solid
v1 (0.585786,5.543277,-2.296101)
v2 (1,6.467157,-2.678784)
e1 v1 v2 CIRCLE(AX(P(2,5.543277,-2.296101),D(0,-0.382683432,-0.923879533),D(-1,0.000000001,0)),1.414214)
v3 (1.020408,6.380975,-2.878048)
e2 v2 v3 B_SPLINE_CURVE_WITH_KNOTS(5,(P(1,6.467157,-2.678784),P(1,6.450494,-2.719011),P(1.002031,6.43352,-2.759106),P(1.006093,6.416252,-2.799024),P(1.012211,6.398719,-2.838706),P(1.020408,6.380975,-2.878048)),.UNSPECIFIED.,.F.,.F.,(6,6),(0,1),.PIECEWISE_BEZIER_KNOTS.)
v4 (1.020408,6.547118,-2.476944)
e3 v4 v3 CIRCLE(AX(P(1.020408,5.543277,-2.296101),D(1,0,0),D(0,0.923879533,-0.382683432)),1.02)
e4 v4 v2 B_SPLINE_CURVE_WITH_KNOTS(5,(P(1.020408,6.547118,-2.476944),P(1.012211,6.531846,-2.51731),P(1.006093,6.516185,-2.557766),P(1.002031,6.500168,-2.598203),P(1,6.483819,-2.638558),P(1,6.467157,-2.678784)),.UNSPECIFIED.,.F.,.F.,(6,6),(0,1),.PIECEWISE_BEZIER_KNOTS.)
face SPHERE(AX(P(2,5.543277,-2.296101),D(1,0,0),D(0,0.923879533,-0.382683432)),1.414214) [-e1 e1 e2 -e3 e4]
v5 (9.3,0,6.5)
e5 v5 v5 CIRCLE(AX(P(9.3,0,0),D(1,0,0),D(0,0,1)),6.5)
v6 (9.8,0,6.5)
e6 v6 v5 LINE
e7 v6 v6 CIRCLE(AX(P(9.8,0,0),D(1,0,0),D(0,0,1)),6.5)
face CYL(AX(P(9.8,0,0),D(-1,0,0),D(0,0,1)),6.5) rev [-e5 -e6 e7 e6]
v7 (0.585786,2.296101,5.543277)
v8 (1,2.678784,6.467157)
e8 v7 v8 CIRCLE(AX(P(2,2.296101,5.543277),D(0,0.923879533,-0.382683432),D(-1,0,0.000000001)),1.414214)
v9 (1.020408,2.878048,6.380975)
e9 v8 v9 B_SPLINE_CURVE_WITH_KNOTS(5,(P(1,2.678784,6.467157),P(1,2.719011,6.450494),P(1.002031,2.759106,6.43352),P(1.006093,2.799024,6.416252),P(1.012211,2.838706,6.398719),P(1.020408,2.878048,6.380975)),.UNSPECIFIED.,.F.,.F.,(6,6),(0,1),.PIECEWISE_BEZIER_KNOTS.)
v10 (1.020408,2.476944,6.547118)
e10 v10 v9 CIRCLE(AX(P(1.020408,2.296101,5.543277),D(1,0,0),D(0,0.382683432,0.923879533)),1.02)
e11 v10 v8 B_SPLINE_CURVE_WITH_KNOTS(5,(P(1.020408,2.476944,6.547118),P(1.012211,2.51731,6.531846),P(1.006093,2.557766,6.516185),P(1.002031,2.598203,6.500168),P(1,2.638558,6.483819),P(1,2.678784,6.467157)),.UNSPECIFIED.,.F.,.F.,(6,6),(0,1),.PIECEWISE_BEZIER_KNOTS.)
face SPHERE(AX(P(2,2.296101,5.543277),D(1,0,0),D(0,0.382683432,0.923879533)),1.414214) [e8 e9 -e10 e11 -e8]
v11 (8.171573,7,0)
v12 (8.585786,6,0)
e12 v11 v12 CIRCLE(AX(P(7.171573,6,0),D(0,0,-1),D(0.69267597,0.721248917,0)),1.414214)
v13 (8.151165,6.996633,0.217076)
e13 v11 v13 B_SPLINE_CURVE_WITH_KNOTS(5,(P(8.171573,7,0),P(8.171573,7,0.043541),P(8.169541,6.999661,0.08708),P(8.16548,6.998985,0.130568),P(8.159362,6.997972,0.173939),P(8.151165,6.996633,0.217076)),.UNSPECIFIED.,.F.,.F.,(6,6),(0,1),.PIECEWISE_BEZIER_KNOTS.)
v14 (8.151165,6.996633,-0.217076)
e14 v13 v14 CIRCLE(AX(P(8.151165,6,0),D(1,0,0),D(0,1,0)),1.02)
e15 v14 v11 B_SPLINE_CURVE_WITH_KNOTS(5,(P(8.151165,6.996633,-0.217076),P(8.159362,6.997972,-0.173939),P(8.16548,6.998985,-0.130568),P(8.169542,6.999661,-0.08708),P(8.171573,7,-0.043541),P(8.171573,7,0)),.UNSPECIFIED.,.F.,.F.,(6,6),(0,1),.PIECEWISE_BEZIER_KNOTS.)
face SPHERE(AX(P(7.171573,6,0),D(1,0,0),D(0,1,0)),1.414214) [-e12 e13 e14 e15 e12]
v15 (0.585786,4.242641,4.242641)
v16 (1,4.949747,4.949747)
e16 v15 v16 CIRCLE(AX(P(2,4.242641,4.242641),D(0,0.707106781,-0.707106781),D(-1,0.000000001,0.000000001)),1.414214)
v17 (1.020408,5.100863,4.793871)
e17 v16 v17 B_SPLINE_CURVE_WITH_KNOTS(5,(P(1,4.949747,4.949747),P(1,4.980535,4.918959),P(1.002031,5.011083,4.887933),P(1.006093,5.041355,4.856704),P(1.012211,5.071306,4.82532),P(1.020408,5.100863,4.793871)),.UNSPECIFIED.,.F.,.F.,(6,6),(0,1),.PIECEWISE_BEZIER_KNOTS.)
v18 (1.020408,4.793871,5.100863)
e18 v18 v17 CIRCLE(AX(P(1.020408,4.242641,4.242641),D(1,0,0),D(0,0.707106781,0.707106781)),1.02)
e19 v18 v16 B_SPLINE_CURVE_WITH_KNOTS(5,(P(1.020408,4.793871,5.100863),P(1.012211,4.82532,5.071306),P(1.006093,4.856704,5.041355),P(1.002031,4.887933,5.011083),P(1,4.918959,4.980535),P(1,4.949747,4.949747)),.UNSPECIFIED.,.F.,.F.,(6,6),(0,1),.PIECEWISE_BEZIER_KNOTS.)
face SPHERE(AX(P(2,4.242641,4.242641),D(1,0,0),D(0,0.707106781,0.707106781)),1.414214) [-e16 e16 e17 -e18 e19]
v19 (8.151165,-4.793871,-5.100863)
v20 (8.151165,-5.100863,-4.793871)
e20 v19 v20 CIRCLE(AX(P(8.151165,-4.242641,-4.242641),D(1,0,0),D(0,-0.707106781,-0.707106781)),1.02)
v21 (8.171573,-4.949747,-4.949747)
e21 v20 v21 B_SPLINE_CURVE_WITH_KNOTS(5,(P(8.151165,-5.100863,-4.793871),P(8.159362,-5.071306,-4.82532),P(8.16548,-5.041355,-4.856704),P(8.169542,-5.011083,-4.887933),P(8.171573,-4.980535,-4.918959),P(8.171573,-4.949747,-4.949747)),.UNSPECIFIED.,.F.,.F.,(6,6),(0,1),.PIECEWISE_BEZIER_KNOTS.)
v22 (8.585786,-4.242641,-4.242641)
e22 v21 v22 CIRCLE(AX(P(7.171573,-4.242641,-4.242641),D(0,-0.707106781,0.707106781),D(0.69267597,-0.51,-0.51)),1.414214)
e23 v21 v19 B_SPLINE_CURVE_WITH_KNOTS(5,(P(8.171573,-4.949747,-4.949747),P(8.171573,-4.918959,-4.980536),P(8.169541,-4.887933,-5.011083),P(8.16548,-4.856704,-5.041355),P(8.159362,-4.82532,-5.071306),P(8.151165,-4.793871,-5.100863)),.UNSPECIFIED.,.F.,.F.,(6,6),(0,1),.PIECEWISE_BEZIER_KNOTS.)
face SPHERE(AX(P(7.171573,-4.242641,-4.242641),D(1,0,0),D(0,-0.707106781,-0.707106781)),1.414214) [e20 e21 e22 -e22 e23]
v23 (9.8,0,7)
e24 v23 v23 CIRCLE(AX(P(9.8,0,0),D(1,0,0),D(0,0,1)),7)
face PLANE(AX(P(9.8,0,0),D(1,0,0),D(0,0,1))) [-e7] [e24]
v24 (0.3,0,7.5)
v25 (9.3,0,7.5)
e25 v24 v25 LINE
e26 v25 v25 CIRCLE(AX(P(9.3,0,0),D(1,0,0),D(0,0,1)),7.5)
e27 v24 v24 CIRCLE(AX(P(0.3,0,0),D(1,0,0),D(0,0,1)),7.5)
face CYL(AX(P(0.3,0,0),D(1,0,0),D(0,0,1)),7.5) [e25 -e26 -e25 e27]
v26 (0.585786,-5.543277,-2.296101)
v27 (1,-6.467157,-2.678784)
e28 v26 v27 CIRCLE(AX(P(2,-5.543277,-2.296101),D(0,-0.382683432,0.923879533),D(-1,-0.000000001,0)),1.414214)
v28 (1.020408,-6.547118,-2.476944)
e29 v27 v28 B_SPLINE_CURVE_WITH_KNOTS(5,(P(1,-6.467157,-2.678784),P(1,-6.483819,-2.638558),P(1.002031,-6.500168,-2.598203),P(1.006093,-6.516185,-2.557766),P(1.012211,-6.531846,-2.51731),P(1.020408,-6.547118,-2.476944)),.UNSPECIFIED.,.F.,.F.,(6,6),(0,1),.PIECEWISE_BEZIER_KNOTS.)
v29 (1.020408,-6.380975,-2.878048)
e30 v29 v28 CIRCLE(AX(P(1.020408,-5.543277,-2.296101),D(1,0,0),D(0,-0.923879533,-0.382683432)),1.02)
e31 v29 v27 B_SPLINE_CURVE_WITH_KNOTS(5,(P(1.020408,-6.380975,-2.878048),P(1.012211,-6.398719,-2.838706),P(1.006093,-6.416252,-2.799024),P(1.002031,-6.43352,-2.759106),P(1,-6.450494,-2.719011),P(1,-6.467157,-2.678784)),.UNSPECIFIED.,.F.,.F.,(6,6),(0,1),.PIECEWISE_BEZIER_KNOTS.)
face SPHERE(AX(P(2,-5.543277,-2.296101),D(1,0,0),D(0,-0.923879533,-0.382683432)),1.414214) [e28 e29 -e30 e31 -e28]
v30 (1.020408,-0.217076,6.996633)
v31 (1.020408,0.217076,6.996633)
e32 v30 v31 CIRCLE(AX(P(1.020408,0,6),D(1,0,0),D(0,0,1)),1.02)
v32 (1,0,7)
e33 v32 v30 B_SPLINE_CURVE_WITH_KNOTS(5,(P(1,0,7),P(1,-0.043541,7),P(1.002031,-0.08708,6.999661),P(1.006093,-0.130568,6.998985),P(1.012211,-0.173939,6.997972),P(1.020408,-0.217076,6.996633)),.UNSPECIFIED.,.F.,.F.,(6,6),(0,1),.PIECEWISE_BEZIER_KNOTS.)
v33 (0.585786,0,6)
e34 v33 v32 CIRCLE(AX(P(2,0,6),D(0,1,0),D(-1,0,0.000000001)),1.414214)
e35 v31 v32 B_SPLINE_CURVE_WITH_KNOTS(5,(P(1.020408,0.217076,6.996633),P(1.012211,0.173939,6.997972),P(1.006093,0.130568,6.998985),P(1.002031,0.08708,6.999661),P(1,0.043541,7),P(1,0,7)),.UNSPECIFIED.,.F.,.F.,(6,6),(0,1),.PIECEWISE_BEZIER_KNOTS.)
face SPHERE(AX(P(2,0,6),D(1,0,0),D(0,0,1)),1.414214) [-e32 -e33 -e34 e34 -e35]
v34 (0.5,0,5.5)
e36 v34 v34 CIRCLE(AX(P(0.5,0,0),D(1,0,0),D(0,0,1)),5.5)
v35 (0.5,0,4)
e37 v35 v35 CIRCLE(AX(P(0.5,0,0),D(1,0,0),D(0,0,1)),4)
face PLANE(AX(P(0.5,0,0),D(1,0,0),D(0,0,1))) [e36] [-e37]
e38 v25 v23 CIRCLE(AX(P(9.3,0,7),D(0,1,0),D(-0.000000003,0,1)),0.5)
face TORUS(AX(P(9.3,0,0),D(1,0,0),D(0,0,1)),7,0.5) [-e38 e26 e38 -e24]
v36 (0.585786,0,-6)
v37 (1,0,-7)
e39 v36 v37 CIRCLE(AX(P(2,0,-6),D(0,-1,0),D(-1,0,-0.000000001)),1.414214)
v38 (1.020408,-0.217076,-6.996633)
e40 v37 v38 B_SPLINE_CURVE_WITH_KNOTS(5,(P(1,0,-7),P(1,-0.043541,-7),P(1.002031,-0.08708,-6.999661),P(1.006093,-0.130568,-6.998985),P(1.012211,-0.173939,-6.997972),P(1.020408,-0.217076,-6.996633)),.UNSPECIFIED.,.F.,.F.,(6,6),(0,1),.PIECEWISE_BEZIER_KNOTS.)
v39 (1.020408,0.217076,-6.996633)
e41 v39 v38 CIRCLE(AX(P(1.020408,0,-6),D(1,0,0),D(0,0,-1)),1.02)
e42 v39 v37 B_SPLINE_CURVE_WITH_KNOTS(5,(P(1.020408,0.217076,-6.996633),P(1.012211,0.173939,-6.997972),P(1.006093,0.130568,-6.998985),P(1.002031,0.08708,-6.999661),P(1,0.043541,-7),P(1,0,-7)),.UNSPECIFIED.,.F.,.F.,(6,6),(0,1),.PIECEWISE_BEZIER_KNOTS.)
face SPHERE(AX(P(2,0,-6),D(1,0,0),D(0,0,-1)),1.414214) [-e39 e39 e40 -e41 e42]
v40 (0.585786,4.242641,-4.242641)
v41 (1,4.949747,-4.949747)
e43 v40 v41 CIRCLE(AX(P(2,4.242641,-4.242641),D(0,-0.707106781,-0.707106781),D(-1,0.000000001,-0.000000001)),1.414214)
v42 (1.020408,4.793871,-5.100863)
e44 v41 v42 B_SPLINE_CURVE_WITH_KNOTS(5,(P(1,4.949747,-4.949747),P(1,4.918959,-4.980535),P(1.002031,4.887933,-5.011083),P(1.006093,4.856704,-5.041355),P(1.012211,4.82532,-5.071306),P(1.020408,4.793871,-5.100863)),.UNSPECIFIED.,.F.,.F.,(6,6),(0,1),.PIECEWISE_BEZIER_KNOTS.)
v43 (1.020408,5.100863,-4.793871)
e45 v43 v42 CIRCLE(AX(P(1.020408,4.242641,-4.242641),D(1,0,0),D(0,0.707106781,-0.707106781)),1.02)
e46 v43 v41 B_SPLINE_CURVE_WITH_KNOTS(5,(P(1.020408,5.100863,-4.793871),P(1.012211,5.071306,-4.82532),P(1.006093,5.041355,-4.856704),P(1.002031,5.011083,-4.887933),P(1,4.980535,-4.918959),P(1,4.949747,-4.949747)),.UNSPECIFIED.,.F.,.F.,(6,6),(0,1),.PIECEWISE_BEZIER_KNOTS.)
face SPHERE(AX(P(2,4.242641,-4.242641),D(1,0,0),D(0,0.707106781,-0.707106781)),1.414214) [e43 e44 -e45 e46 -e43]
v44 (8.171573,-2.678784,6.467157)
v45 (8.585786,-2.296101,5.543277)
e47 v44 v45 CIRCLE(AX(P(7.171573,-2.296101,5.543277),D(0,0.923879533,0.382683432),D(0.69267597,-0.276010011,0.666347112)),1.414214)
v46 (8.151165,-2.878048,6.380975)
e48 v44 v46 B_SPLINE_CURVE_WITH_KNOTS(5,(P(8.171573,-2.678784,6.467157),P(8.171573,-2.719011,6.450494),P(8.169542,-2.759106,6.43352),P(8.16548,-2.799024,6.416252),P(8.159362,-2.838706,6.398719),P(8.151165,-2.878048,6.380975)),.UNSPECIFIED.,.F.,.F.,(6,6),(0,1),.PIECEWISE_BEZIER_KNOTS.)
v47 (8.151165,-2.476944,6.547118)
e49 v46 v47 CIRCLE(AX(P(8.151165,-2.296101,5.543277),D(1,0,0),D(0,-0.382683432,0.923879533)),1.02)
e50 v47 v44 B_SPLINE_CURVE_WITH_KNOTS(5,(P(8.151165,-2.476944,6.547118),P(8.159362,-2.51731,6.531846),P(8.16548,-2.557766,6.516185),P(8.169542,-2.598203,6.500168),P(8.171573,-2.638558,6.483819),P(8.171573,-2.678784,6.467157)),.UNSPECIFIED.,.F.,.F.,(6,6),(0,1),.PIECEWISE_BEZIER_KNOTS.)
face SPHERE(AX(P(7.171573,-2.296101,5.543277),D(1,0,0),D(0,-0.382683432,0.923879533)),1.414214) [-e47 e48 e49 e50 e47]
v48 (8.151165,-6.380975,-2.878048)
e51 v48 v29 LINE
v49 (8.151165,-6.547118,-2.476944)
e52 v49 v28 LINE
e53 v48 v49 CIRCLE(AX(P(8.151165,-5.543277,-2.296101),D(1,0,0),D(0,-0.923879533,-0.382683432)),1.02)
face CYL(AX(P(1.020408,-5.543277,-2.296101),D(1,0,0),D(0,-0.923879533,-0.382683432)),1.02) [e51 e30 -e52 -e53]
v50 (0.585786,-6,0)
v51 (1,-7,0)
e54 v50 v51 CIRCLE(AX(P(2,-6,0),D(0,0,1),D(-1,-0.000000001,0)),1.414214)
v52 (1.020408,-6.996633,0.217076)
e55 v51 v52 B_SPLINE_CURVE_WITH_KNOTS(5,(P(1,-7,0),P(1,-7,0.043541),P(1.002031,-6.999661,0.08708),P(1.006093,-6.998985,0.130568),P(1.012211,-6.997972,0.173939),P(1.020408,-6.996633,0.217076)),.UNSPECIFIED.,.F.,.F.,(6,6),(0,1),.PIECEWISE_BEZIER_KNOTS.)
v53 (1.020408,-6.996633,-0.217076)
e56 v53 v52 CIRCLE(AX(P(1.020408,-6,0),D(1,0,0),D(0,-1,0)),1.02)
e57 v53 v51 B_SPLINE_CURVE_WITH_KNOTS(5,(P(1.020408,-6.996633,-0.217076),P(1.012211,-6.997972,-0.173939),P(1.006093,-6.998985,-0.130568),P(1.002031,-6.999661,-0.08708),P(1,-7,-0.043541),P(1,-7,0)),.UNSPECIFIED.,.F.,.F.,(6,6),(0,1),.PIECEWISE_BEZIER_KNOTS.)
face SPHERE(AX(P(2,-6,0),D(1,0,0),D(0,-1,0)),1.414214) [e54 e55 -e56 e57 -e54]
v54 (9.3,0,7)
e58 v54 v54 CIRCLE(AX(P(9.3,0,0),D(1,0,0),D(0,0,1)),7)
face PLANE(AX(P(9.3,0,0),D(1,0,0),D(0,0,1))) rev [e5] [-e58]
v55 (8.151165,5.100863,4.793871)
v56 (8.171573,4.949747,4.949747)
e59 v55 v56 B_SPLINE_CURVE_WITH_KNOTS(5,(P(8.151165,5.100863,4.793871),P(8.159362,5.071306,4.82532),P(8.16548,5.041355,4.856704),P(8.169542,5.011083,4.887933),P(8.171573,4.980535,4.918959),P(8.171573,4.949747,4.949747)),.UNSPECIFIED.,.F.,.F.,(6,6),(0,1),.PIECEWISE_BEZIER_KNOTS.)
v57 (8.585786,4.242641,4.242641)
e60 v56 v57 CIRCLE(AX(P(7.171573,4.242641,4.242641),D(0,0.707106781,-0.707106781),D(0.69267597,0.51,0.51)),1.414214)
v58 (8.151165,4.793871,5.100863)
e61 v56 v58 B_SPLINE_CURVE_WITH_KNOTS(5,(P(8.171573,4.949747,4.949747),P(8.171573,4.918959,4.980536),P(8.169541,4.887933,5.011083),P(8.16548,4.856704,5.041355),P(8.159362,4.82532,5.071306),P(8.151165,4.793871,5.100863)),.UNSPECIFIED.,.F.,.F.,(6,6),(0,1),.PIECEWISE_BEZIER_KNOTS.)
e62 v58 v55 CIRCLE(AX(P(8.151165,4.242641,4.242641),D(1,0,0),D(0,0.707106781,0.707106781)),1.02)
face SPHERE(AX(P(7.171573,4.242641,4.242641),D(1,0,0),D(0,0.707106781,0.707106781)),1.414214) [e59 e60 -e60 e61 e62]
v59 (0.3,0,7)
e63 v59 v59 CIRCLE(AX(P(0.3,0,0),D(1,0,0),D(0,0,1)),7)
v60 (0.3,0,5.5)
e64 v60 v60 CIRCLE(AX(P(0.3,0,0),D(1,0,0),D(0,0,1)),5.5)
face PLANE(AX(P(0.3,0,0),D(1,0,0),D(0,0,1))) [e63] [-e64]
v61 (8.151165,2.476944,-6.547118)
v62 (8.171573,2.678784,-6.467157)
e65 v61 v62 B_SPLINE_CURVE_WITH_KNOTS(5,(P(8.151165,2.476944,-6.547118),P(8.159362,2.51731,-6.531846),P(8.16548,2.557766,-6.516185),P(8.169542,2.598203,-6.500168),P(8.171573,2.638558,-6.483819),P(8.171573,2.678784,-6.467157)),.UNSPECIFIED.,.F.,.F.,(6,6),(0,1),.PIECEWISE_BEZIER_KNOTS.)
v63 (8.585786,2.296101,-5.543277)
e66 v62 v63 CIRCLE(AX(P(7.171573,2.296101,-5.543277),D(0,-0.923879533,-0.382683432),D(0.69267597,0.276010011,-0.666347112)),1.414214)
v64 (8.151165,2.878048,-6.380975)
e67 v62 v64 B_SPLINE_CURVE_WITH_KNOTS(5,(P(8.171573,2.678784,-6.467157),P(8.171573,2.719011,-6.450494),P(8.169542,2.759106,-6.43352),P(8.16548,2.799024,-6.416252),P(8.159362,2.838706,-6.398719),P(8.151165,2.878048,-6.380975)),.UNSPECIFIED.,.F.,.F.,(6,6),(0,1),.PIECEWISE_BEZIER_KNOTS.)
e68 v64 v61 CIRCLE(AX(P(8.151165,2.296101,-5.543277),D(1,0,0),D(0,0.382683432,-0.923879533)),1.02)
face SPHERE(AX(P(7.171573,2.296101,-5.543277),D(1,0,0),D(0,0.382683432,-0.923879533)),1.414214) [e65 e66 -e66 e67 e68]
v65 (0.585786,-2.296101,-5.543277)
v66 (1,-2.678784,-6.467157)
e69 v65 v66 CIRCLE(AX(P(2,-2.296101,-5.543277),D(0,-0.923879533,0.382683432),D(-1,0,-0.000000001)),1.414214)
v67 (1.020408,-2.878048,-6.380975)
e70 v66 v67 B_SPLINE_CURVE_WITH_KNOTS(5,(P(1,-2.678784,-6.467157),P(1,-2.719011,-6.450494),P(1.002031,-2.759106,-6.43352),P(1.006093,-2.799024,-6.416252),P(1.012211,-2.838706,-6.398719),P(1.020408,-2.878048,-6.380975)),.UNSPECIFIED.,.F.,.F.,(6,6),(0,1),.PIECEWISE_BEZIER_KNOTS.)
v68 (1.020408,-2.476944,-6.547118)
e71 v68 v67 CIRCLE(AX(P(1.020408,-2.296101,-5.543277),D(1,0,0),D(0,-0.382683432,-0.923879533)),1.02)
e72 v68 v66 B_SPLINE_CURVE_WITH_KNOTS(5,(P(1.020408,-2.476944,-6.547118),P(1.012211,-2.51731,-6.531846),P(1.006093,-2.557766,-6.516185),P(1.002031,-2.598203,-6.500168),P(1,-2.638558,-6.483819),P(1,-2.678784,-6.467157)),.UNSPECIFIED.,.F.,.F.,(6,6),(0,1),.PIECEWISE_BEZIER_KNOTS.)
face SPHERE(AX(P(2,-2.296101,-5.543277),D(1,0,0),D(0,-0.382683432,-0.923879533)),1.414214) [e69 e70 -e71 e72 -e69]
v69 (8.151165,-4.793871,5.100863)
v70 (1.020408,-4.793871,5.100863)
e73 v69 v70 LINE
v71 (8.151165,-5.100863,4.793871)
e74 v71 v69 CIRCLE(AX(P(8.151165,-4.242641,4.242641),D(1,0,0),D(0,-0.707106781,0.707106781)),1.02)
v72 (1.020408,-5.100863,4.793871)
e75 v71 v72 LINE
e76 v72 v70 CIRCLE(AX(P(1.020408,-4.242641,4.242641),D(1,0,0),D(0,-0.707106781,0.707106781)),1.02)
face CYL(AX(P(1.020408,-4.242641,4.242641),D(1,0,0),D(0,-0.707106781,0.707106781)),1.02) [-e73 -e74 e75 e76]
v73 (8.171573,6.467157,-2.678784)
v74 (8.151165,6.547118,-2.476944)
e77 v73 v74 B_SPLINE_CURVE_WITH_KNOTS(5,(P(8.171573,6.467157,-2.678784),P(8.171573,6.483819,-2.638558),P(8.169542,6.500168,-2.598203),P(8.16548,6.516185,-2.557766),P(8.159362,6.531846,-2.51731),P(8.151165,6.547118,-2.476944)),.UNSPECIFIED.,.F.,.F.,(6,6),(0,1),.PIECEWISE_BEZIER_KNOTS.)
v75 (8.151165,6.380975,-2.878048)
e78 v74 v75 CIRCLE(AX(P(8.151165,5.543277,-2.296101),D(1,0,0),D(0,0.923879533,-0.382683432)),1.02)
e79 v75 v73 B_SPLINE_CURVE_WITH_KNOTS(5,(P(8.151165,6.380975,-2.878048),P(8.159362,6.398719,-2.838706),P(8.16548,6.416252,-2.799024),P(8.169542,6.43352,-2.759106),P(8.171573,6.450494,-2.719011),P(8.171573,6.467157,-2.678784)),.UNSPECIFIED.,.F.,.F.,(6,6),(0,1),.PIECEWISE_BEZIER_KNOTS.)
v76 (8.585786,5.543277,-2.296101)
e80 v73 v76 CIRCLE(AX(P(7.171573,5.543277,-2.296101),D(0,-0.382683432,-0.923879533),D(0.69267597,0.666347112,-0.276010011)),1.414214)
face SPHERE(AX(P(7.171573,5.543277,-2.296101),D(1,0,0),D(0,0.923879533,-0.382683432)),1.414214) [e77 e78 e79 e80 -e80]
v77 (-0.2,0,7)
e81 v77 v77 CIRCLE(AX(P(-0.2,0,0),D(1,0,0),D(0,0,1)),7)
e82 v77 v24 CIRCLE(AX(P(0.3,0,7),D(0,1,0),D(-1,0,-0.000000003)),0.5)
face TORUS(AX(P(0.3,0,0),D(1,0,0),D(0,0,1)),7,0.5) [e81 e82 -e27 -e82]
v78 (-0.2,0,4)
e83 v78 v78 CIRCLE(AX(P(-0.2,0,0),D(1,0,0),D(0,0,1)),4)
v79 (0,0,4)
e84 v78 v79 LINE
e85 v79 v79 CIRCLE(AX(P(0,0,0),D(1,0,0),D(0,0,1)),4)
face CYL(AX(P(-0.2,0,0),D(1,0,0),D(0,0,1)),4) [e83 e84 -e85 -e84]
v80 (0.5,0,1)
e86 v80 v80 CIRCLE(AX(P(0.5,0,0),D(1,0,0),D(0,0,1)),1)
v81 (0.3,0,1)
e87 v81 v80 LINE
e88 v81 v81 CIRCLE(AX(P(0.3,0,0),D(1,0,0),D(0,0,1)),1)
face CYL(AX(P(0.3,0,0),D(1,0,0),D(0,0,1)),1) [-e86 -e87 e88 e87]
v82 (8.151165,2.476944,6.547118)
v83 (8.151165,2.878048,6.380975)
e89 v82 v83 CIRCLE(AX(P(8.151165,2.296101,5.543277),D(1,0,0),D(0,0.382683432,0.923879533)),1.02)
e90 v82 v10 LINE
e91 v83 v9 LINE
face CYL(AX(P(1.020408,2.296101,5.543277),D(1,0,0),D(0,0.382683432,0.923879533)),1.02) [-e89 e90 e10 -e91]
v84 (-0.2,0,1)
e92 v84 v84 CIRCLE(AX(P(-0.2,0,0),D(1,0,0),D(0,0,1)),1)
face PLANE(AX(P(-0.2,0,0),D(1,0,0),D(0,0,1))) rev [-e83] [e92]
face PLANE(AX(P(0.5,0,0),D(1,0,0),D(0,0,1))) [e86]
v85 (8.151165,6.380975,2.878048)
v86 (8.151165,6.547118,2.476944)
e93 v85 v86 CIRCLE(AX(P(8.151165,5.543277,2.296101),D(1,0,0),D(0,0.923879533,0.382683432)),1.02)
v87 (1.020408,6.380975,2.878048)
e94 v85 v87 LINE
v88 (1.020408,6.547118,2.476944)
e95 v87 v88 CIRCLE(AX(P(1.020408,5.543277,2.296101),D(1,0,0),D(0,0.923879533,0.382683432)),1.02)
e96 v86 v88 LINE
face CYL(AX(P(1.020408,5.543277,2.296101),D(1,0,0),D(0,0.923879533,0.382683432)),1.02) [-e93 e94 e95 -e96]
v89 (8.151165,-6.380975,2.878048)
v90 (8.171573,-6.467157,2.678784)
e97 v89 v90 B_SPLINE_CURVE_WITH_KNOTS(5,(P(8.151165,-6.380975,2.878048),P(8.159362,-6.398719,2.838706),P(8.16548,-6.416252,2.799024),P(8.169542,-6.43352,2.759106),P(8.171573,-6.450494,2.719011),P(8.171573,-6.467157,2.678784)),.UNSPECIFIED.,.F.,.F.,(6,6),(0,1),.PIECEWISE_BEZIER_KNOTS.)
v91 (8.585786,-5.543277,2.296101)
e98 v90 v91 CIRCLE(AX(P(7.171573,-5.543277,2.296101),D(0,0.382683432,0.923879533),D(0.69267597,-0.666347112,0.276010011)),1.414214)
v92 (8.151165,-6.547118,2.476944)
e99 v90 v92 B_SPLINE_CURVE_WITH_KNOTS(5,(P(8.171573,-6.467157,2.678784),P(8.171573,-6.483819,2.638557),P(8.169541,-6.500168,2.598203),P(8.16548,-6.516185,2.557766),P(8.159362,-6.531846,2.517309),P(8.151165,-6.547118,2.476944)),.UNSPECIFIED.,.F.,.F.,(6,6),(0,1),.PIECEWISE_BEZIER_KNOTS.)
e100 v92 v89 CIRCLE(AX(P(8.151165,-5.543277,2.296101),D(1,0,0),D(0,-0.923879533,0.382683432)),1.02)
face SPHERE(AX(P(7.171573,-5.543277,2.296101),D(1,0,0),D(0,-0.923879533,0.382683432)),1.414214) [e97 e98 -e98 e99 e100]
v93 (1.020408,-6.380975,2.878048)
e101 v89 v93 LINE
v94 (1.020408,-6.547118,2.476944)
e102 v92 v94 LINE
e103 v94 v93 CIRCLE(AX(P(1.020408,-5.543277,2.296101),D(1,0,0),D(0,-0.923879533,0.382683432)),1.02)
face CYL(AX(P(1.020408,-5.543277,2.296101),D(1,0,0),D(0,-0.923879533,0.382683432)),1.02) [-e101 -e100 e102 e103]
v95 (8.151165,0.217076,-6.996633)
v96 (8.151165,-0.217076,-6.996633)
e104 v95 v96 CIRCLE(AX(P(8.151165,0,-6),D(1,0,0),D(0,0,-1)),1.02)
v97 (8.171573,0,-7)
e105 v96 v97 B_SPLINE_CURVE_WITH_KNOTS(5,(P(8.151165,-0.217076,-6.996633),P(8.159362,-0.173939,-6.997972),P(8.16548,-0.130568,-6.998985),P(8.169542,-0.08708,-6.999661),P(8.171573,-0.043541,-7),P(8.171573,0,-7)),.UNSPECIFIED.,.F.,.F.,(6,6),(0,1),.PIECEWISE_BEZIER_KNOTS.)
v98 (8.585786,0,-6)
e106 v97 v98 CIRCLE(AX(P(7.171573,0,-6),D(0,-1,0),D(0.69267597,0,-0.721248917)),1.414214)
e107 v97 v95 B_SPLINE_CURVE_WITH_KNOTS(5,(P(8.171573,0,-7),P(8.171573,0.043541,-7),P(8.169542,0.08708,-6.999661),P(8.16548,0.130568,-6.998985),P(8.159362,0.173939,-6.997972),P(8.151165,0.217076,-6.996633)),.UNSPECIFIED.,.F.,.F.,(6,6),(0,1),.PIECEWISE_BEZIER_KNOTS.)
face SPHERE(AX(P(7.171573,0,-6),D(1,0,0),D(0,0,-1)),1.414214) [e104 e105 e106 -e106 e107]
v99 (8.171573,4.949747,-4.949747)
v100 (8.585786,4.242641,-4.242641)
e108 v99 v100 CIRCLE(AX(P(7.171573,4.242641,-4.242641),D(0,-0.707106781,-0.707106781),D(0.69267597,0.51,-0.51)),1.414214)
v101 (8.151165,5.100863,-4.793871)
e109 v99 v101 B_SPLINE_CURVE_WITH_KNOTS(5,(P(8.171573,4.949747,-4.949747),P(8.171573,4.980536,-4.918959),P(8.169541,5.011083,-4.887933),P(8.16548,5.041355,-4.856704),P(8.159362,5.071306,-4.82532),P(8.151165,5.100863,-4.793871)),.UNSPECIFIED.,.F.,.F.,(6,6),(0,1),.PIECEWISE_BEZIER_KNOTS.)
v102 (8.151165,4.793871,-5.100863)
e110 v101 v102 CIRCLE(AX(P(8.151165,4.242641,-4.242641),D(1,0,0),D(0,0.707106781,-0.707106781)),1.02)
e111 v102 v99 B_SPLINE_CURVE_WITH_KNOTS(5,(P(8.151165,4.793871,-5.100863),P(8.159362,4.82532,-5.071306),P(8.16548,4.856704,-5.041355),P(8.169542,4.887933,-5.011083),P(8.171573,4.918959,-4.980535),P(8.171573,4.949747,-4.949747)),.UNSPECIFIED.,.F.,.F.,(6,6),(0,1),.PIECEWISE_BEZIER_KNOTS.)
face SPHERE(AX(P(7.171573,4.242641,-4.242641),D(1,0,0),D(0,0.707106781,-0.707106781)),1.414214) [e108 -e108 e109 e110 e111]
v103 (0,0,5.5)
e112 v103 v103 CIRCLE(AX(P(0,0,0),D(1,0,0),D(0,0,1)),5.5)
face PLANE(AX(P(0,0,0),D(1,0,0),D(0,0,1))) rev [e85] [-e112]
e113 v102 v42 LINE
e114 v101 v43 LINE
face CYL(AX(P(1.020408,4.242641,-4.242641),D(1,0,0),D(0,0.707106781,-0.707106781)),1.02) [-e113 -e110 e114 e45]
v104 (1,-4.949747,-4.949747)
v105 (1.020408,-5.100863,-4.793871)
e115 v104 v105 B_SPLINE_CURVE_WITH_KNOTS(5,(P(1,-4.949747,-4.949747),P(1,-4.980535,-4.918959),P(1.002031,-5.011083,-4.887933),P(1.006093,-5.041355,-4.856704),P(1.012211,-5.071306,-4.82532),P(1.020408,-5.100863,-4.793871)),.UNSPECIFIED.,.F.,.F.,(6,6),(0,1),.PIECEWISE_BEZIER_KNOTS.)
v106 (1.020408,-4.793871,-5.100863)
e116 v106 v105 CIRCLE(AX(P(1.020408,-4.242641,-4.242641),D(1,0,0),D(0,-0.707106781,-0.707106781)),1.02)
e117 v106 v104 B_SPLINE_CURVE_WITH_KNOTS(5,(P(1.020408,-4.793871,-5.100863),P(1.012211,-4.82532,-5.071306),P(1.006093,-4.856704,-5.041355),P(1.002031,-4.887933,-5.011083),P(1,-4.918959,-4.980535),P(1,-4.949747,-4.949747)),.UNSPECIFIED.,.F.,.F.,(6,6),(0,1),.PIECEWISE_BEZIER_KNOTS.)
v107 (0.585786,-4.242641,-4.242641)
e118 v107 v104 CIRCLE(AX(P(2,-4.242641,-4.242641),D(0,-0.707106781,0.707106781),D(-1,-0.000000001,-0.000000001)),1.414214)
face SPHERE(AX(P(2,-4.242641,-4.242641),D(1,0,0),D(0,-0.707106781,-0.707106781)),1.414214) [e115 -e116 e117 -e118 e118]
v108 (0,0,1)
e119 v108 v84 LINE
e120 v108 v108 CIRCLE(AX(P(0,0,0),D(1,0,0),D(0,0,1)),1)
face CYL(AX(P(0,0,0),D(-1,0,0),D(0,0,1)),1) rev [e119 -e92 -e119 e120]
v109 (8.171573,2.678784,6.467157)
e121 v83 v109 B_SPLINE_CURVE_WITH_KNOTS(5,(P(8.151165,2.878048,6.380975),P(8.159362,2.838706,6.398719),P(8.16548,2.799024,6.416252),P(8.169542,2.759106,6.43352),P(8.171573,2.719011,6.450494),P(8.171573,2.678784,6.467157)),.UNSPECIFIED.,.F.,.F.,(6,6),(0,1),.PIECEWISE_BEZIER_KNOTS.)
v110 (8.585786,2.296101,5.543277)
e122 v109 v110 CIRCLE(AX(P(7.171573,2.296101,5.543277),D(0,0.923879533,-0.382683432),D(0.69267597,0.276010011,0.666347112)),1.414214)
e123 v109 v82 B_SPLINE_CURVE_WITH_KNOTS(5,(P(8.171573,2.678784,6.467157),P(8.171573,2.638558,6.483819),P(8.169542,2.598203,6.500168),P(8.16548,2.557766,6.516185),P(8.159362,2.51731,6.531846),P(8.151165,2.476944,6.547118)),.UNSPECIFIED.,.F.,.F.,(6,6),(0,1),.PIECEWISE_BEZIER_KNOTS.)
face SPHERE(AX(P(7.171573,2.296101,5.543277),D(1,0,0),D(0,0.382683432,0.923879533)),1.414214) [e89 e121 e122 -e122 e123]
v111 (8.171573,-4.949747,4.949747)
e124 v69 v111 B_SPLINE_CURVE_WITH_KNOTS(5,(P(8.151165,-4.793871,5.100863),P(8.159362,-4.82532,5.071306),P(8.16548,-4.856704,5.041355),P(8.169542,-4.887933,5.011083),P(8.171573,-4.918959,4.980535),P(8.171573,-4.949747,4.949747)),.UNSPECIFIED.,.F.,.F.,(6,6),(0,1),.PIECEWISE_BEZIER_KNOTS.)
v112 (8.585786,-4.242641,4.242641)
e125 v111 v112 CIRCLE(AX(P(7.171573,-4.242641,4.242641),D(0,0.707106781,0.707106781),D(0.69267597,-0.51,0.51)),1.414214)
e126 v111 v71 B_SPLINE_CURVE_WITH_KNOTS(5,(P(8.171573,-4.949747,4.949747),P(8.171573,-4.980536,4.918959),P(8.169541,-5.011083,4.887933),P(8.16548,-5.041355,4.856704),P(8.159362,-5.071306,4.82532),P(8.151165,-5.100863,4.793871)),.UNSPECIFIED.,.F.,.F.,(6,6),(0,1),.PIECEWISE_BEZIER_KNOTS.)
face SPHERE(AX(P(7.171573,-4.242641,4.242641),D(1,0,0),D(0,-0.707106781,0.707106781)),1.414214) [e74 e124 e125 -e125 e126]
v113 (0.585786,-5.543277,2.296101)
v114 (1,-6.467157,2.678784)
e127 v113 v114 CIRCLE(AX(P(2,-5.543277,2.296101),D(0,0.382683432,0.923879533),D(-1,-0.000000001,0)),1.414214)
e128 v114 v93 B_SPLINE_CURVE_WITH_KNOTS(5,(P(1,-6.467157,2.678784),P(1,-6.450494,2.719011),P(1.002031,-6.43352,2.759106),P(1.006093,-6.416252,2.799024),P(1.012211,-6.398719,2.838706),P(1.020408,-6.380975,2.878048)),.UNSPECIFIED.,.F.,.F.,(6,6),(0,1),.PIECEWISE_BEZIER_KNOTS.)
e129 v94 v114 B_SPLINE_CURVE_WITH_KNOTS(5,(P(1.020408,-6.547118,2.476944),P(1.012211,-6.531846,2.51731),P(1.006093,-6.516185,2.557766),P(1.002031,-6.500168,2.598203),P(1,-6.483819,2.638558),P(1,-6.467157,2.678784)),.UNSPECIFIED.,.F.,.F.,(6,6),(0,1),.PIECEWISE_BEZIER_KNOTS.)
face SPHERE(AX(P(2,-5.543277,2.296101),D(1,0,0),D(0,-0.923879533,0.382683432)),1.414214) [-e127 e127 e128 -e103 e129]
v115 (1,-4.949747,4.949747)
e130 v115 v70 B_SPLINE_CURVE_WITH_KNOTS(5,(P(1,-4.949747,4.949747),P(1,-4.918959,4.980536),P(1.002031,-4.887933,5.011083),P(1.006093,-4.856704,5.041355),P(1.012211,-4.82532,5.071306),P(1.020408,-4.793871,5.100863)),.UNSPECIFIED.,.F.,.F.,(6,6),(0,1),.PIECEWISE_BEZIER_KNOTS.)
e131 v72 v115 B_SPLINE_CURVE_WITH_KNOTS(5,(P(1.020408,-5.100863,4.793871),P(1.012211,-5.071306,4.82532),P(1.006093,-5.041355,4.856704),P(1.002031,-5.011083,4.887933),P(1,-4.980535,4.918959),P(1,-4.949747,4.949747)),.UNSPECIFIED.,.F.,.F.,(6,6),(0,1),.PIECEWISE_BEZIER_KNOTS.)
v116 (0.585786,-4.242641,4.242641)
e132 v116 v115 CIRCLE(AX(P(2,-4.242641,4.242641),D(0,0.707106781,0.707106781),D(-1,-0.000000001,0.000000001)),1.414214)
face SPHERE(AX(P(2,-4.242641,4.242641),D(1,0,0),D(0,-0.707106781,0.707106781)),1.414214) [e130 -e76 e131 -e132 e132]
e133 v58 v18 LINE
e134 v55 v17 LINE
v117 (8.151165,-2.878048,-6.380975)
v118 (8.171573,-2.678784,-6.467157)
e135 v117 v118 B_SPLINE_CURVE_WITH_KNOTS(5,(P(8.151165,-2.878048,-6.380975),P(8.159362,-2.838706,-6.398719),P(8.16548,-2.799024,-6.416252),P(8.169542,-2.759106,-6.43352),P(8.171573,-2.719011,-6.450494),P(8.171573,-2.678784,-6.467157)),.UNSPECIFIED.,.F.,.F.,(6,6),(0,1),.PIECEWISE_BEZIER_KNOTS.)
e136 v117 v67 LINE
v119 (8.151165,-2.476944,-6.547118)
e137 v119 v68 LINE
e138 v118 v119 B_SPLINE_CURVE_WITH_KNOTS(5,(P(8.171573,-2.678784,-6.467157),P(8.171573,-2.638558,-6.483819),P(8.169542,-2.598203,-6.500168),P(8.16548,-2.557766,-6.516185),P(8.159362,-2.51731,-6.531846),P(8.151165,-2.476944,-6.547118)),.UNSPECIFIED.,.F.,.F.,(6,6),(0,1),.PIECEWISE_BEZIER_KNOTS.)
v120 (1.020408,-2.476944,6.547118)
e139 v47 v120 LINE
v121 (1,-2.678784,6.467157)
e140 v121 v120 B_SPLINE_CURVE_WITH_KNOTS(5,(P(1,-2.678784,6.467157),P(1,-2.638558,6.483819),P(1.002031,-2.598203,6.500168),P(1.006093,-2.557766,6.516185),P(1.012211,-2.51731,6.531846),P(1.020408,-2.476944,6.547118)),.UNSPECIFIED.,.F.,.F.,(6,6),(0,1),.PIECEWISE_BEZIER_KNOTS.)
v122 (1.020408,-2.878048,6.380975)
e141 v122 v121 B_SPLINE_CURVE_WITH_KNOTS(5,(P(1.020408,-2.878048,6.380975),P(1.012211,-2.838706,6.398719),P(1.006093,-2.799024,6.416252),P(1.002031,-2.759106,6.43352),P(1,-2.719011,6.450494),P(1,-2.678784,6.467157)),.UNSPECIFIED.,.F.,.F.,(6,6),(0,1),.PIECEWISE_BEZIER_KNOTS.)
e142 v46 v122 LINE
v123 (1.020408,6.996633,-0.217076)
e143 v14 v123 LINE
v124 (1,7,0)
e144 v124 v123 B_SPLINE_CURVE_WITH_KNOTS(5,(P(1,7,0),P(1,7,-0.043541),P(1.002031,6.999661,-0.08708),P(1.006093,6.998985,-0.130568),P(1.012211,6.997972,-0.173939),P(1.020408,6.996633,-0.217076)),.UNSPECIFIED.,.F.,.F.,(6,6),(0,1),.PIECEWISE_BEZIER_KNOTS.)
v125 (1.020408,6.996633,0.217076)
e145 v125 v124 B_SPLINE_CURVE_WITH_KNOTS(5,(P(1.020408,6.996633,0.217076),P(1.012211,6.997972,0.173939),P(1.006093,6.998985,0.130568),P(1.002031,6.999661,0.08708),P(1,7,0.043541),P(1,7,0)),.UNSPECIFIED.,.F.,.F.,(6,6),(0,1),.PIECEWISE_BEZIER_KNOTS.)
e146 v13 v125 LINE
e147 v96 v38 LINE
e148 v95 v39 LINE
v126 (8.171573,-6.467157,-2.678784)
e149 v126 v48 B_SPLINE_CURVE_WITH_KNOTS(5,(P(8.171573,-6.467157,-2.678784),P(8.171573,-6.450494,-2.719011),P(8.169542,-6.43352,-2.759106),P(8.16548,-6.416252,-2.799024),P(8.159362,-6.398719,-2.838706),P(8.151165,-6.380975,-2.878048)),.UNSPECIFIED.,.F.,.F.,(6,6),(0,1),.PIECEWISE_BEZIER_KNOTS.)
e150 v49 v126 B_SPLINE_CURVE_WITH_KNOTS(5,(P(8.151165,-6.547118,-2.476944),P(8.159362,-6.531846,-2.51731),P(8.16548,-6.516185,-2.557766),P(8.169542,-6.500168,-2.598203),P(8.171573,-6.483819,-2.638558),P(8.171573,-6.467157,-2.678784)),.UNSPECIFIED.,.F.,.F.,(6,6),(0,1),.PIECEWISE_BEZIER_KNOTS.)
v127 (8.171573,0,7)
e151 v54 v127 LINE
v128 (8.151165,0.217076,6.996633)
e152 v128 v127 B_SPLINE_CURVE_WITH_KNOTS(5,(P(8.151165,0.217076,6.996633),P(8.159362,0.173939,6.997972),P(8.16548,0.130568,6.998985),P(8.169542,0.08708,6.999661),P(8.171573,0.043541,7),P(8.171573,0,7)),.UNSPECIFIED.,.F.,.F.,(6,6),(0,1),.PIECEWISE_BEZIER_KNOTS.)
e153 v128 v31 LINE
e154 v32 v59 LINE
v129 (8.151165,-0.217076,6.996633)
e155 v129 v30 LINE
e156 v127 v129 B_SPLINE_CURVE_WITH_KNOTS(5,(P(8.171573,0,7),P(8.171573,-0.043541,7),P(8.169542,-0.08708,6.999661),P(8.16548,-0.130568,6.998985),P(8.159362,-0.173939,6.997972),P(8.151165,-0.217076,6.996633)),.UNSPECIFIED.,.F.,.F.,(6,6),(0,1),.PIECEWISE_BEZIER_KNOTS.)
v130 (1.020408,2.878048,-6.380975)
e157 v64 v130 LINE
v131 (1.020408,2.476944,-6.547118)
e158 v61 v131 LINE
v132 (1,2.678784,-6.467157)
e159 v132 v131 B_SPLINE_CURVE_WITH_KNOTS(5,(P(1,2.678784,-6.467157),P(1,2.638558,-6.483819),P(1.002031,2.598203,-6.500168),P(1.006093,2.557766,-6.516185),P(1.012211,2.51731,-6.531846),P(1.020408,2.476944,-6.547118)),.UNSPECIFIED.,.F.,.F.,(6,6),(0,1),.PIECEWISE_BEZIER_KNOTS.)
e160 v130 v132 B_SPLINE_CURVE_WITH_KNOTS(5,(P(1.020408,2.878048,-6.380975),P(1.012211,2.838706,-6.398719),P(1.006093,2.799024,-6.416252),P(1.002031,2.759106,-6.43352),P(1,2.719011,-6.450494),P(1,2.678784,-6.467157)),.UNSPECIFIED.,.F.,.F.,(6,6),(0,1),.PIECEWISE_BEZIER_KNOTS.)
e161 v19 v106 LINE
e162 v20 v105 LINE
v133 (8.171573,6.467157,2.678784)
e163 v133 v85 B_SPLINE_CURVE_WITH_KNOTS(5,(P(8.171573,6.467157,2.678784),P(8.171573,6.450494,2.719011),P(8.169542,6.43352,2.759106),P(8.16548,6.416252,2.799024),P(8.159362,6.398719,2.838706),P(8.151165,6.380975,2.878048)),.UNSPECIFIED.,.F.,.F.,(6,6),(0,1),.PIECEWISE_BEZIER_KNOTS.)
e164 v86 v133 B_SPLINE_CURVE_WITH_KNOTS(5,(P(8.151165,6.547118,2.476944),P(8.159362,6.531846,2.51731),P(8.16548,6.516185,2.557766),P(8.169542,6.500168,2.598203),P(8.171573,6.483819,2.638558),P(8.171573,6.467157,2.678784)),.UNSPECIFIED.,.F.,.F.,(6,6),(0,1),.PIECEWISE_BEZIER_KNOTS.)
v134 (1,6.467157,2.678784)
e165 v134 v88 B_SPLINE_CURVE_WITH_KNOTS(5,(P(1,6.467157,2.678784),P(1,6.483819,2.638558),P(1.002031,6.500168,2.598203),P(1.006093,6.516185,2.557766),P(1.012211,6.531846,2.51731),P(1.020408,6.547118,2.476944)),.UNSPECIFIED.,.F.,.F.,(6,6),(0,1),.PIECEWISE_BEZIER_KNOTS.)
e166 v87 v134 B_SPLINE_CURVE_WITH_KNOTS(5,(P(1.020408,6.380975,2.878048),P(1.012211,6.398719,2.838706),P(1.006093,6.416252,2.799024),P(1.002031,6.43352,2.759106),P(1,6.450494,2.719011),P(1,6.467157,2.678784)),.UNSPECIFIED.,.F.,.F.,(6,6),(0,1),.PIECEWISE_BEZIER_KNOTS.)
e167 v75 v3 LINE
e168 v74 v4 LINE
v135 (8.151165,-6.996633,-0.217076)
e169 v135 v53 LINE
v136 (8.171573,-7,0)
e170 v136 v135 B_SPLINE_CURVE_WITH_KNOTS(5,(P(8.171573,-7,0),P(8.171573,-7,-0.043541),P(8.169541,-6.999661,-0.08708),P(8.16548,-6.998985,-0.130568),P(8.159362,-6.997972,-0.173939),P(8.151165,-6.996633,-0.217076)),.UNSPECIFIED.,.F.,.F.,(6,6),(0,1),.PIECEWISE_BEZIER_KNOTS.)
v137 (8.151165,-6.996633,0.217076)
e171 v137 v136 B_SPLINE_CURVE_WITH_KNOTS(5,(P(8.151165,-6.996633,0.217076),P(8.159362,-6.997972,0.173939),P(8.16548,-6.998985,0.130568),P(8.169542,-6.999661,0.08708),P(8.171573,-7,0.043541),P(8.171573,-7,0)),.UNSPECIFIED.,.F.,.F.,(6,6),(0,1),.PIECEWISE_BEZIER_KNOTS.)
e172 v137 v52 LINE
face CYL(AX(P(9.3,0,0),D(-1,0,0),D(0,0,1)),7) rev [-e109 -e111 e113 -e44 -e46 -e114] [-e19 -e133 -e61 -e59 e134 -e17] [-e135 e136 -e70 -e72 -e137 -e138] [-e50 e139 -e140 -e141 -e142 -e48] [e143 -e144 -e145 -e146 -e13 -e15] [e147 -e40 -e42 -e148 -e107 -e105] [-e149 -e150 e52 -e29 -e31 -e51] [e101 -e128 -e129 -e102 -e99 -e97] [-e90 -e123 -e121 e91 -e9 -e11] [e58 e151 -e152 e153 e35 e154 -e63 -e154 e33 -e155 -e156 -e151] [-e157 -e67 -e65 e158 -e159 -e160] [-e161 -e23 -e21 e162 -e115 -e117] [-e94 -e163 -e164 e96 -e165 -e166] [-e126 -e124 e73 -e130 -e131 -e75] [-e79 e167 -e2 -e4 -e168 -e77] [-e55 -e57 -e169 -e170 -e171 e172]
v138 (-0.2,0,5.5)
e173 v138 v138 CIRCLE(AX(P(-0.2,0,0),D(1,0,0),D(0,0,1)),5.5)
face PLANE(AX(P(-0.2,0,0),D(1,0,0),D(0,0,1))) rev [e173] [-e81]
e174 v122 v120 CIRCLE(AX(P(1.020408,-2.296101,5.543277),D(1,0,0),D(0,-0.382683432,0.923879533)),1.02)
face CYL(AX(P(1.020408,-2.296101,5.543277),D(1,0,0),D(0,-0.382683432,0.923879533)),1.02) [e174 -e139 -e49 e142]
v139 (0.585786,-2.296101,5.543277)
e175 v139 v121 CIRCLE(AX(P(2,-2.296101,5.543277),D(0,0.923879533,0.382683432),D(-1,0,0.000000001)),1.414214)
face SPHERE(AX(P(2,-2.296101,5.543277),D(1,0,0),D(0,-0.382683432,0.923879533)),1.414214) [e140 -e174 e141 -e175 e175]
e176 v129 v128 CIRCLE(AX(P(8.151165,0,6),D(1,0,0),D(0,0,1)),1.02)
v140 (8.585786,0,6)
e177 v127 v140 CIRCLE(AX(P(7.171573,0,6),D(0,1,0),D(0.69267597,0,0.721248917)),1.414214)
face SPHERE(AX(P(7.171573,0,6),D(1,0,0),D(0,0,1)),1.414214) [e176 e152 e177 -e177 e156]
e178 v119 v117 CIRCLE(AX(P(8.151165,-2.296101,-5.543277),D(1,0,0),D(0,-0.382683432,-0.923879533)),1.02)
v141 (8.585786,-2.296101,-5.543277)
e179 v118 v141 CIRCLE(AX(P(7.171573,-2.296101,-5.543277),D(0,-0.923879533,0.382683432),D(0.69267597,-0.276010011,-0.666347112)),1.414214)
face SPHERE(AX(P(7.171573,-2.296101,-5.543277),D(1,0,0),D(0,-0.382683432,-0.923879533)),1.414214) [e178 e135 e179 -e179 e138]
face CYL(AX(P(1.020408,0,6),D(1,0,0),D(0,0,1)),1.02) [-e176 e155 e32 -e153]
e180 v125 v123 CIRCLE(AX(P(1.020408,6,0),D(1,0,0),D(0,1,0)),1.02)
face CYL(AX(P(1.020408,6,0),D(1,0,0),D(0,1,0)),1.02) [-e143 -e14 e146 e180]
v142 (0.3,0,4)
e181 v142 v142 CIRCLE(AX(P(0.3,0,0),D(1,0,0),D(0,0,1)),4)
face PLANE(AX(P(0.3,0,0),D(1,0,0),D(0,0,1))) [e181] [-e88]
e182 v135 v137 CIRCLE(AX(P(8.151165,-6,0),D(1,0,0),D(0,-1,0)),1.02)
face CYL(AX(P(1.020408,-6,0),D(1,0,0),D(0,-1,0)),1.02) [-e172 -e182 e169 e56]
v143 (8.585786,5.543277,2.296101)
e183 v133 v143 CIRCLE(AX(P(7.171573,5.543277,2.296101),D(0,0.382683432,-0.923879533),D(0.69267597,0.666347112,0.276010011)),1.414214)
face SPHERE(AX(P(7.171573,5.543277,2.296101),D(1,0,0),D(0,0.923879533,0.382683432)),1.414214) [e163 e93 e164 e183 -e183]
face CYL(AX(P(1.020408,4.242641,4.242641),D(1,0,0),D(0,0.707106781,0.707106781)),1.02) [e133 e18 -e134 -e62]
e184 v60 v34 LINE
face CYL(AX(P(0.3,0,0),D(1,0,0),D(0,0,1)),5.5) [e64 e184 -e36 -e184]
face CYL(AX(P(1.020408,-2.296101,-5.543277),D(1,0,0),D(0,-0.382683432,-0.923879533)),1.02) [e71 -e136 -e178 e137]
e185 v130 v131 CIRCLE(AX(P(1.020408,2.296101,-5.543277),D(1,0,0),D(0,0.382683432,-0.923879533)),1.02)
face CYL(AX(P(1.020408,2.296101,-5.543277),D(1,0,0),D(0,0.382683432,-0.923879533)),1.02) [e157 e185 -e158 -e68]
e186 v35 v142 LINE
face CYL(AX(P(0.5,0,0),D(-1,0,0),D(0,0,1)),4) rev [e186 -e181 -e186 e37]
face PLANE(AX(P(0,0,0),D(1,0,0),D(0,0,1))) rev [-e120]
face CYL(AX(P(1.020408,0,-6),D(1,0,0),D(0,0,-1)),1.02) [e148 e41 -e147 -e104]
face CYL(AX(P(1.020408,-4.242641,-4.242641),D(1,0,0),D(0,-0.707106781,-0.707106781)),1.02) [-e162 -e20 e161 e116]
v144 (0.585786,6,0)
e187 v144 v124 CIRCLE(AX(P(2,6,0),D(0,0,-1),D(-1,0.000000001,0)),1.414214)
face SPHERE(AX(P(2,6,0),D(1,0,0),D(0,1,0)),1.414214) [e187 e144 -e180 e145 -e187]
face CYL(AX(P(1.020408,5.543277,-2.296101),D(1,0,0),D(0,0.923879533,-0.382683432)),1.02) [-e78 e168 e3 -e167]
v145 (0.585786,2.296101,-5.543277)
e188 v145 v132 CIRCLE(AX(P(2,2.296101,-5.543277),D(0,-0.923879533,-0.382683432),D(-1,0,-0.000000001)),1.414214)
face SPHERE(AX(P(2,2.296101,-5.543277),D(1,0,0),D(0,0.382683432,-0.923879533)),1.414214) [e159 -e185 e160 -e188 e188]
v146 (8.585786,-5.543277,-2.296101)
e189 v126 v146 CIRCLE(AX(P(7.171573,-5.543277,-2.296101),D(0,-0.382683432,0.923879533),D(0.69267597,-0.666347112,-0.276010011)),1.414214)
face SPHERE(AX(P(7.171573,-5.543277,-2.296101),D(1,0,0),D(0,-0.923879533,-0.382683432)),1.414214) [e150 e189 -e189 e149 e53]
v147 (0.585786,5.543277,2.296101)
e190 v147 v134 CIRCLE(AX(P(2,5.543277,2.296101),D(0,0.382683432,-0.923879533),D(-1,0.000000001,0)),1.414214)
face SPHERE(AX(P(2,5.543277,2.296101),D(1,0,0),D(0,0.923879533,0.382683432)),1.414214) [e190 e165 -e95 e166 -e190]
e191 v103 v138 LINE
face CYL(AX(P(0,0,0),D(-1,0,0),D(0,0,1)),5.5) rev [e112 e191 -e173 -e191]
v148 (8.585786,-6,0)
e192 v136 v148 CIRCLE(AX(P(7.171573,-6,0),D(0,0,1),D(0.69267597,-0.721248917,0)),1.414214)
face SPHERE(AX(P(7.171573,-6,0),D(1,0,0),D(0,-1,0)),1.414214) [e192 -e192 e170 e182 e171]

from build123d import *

# Parameters (mm, degrees)
R_P_TITION_CIRCULAIRE1_COUNT = 16


with BuildPart() as part:
    # Esquisse1 → Base-Révolution (revolve)
    with BuildSketch(Plane.XY, mode=Mode.PRIVATE) as base_r_volution_sk:
        with BuildLine():
            Line((0, 0), (0, 1))
            Line((0, 1), (-0.2, 1))
            Line((-0.2, 1), (-0.2, 4))
            Line((-0.2, 4), (0, 4))
            Line((0, 4), (0, 5.5))
            Line((0, 5.5), (-0.2, 5.5))
            Line((-0.2, 5.5), (-0.2, 7))
            ThreePointArc((-0.2, 7), (-0.053553391, 7.353553391), (0.3, 7.5))
            Line((0.3, 7.5), (9.3, 7.5))
            ThreePointArc((9.3, 7.5), (9.653553391, 7.353553391), (9.8, 7))
            Line((9.8, 7), (9.8, 6.5))
            Line((9.8, 6.5), (9.3, 6.5))
            Line((9.3, 6.5), (9.3, 7))
            Line((9.3, 7), (0.3, 7))
            Line((0.3, 7), (0.3, 5.5))
            Line((0.3, 5.5), (0.5, 5.5))
            Line((0.5, 5.5), (0.5, 4))
            Line((0.5, 4), (0.3, 4))
            Line((0.3, 4), (0.3, 1))
            Line((0.3, 1), (0.5, 1))
            Line((0.5, 1), (0.5, 0))
            Line((0.5, 0), (0, 0))
        make_face()
    revolve(base_r_volution_sk.sketch.rotate(Axis((0, 0, 0), (1, 0, 0)), 90), axis=Axis((0, 0, 0), (1, 0, 0)))

    # Esquisse2 → Boss.-Révol.2 (revolve)
    with BuildSketch(Plane.XY):
        with BuildLine():
            Line((1.020408248, 7.02), (8.151164627, 7.02))
            ThreePointArc((8.151164627, 7.02), (8.472601688, 6.554368135), (8.585786438, 6))
            Line((8.585786438, 6), (0.585786438, 6))
            ThreePointArc((0.585786438, 6), (0.698971188, 6.554368135), (1.020408248, 7.02))
        make_face()
    boss_r_vol_2 = revolve(axis=Axis((1, 6, 0), (1, 0, 0)))

    # Répétition circulaire1: Boss.-Révol.2 ×16 about axis
    r_p_tition_circulaire1_axis = Axis((0, 0, 0), (1, 0, 0))
    for i in range(1, R_P_TITION_CIRCULAIRE1_COUNT):
        add(boss_r_vol_2.rotate(r_p_tition_circulaire1_axis, i * 360 / R_P_TITION_CIRCULAIRE1_COUNT))


solid = part.part
